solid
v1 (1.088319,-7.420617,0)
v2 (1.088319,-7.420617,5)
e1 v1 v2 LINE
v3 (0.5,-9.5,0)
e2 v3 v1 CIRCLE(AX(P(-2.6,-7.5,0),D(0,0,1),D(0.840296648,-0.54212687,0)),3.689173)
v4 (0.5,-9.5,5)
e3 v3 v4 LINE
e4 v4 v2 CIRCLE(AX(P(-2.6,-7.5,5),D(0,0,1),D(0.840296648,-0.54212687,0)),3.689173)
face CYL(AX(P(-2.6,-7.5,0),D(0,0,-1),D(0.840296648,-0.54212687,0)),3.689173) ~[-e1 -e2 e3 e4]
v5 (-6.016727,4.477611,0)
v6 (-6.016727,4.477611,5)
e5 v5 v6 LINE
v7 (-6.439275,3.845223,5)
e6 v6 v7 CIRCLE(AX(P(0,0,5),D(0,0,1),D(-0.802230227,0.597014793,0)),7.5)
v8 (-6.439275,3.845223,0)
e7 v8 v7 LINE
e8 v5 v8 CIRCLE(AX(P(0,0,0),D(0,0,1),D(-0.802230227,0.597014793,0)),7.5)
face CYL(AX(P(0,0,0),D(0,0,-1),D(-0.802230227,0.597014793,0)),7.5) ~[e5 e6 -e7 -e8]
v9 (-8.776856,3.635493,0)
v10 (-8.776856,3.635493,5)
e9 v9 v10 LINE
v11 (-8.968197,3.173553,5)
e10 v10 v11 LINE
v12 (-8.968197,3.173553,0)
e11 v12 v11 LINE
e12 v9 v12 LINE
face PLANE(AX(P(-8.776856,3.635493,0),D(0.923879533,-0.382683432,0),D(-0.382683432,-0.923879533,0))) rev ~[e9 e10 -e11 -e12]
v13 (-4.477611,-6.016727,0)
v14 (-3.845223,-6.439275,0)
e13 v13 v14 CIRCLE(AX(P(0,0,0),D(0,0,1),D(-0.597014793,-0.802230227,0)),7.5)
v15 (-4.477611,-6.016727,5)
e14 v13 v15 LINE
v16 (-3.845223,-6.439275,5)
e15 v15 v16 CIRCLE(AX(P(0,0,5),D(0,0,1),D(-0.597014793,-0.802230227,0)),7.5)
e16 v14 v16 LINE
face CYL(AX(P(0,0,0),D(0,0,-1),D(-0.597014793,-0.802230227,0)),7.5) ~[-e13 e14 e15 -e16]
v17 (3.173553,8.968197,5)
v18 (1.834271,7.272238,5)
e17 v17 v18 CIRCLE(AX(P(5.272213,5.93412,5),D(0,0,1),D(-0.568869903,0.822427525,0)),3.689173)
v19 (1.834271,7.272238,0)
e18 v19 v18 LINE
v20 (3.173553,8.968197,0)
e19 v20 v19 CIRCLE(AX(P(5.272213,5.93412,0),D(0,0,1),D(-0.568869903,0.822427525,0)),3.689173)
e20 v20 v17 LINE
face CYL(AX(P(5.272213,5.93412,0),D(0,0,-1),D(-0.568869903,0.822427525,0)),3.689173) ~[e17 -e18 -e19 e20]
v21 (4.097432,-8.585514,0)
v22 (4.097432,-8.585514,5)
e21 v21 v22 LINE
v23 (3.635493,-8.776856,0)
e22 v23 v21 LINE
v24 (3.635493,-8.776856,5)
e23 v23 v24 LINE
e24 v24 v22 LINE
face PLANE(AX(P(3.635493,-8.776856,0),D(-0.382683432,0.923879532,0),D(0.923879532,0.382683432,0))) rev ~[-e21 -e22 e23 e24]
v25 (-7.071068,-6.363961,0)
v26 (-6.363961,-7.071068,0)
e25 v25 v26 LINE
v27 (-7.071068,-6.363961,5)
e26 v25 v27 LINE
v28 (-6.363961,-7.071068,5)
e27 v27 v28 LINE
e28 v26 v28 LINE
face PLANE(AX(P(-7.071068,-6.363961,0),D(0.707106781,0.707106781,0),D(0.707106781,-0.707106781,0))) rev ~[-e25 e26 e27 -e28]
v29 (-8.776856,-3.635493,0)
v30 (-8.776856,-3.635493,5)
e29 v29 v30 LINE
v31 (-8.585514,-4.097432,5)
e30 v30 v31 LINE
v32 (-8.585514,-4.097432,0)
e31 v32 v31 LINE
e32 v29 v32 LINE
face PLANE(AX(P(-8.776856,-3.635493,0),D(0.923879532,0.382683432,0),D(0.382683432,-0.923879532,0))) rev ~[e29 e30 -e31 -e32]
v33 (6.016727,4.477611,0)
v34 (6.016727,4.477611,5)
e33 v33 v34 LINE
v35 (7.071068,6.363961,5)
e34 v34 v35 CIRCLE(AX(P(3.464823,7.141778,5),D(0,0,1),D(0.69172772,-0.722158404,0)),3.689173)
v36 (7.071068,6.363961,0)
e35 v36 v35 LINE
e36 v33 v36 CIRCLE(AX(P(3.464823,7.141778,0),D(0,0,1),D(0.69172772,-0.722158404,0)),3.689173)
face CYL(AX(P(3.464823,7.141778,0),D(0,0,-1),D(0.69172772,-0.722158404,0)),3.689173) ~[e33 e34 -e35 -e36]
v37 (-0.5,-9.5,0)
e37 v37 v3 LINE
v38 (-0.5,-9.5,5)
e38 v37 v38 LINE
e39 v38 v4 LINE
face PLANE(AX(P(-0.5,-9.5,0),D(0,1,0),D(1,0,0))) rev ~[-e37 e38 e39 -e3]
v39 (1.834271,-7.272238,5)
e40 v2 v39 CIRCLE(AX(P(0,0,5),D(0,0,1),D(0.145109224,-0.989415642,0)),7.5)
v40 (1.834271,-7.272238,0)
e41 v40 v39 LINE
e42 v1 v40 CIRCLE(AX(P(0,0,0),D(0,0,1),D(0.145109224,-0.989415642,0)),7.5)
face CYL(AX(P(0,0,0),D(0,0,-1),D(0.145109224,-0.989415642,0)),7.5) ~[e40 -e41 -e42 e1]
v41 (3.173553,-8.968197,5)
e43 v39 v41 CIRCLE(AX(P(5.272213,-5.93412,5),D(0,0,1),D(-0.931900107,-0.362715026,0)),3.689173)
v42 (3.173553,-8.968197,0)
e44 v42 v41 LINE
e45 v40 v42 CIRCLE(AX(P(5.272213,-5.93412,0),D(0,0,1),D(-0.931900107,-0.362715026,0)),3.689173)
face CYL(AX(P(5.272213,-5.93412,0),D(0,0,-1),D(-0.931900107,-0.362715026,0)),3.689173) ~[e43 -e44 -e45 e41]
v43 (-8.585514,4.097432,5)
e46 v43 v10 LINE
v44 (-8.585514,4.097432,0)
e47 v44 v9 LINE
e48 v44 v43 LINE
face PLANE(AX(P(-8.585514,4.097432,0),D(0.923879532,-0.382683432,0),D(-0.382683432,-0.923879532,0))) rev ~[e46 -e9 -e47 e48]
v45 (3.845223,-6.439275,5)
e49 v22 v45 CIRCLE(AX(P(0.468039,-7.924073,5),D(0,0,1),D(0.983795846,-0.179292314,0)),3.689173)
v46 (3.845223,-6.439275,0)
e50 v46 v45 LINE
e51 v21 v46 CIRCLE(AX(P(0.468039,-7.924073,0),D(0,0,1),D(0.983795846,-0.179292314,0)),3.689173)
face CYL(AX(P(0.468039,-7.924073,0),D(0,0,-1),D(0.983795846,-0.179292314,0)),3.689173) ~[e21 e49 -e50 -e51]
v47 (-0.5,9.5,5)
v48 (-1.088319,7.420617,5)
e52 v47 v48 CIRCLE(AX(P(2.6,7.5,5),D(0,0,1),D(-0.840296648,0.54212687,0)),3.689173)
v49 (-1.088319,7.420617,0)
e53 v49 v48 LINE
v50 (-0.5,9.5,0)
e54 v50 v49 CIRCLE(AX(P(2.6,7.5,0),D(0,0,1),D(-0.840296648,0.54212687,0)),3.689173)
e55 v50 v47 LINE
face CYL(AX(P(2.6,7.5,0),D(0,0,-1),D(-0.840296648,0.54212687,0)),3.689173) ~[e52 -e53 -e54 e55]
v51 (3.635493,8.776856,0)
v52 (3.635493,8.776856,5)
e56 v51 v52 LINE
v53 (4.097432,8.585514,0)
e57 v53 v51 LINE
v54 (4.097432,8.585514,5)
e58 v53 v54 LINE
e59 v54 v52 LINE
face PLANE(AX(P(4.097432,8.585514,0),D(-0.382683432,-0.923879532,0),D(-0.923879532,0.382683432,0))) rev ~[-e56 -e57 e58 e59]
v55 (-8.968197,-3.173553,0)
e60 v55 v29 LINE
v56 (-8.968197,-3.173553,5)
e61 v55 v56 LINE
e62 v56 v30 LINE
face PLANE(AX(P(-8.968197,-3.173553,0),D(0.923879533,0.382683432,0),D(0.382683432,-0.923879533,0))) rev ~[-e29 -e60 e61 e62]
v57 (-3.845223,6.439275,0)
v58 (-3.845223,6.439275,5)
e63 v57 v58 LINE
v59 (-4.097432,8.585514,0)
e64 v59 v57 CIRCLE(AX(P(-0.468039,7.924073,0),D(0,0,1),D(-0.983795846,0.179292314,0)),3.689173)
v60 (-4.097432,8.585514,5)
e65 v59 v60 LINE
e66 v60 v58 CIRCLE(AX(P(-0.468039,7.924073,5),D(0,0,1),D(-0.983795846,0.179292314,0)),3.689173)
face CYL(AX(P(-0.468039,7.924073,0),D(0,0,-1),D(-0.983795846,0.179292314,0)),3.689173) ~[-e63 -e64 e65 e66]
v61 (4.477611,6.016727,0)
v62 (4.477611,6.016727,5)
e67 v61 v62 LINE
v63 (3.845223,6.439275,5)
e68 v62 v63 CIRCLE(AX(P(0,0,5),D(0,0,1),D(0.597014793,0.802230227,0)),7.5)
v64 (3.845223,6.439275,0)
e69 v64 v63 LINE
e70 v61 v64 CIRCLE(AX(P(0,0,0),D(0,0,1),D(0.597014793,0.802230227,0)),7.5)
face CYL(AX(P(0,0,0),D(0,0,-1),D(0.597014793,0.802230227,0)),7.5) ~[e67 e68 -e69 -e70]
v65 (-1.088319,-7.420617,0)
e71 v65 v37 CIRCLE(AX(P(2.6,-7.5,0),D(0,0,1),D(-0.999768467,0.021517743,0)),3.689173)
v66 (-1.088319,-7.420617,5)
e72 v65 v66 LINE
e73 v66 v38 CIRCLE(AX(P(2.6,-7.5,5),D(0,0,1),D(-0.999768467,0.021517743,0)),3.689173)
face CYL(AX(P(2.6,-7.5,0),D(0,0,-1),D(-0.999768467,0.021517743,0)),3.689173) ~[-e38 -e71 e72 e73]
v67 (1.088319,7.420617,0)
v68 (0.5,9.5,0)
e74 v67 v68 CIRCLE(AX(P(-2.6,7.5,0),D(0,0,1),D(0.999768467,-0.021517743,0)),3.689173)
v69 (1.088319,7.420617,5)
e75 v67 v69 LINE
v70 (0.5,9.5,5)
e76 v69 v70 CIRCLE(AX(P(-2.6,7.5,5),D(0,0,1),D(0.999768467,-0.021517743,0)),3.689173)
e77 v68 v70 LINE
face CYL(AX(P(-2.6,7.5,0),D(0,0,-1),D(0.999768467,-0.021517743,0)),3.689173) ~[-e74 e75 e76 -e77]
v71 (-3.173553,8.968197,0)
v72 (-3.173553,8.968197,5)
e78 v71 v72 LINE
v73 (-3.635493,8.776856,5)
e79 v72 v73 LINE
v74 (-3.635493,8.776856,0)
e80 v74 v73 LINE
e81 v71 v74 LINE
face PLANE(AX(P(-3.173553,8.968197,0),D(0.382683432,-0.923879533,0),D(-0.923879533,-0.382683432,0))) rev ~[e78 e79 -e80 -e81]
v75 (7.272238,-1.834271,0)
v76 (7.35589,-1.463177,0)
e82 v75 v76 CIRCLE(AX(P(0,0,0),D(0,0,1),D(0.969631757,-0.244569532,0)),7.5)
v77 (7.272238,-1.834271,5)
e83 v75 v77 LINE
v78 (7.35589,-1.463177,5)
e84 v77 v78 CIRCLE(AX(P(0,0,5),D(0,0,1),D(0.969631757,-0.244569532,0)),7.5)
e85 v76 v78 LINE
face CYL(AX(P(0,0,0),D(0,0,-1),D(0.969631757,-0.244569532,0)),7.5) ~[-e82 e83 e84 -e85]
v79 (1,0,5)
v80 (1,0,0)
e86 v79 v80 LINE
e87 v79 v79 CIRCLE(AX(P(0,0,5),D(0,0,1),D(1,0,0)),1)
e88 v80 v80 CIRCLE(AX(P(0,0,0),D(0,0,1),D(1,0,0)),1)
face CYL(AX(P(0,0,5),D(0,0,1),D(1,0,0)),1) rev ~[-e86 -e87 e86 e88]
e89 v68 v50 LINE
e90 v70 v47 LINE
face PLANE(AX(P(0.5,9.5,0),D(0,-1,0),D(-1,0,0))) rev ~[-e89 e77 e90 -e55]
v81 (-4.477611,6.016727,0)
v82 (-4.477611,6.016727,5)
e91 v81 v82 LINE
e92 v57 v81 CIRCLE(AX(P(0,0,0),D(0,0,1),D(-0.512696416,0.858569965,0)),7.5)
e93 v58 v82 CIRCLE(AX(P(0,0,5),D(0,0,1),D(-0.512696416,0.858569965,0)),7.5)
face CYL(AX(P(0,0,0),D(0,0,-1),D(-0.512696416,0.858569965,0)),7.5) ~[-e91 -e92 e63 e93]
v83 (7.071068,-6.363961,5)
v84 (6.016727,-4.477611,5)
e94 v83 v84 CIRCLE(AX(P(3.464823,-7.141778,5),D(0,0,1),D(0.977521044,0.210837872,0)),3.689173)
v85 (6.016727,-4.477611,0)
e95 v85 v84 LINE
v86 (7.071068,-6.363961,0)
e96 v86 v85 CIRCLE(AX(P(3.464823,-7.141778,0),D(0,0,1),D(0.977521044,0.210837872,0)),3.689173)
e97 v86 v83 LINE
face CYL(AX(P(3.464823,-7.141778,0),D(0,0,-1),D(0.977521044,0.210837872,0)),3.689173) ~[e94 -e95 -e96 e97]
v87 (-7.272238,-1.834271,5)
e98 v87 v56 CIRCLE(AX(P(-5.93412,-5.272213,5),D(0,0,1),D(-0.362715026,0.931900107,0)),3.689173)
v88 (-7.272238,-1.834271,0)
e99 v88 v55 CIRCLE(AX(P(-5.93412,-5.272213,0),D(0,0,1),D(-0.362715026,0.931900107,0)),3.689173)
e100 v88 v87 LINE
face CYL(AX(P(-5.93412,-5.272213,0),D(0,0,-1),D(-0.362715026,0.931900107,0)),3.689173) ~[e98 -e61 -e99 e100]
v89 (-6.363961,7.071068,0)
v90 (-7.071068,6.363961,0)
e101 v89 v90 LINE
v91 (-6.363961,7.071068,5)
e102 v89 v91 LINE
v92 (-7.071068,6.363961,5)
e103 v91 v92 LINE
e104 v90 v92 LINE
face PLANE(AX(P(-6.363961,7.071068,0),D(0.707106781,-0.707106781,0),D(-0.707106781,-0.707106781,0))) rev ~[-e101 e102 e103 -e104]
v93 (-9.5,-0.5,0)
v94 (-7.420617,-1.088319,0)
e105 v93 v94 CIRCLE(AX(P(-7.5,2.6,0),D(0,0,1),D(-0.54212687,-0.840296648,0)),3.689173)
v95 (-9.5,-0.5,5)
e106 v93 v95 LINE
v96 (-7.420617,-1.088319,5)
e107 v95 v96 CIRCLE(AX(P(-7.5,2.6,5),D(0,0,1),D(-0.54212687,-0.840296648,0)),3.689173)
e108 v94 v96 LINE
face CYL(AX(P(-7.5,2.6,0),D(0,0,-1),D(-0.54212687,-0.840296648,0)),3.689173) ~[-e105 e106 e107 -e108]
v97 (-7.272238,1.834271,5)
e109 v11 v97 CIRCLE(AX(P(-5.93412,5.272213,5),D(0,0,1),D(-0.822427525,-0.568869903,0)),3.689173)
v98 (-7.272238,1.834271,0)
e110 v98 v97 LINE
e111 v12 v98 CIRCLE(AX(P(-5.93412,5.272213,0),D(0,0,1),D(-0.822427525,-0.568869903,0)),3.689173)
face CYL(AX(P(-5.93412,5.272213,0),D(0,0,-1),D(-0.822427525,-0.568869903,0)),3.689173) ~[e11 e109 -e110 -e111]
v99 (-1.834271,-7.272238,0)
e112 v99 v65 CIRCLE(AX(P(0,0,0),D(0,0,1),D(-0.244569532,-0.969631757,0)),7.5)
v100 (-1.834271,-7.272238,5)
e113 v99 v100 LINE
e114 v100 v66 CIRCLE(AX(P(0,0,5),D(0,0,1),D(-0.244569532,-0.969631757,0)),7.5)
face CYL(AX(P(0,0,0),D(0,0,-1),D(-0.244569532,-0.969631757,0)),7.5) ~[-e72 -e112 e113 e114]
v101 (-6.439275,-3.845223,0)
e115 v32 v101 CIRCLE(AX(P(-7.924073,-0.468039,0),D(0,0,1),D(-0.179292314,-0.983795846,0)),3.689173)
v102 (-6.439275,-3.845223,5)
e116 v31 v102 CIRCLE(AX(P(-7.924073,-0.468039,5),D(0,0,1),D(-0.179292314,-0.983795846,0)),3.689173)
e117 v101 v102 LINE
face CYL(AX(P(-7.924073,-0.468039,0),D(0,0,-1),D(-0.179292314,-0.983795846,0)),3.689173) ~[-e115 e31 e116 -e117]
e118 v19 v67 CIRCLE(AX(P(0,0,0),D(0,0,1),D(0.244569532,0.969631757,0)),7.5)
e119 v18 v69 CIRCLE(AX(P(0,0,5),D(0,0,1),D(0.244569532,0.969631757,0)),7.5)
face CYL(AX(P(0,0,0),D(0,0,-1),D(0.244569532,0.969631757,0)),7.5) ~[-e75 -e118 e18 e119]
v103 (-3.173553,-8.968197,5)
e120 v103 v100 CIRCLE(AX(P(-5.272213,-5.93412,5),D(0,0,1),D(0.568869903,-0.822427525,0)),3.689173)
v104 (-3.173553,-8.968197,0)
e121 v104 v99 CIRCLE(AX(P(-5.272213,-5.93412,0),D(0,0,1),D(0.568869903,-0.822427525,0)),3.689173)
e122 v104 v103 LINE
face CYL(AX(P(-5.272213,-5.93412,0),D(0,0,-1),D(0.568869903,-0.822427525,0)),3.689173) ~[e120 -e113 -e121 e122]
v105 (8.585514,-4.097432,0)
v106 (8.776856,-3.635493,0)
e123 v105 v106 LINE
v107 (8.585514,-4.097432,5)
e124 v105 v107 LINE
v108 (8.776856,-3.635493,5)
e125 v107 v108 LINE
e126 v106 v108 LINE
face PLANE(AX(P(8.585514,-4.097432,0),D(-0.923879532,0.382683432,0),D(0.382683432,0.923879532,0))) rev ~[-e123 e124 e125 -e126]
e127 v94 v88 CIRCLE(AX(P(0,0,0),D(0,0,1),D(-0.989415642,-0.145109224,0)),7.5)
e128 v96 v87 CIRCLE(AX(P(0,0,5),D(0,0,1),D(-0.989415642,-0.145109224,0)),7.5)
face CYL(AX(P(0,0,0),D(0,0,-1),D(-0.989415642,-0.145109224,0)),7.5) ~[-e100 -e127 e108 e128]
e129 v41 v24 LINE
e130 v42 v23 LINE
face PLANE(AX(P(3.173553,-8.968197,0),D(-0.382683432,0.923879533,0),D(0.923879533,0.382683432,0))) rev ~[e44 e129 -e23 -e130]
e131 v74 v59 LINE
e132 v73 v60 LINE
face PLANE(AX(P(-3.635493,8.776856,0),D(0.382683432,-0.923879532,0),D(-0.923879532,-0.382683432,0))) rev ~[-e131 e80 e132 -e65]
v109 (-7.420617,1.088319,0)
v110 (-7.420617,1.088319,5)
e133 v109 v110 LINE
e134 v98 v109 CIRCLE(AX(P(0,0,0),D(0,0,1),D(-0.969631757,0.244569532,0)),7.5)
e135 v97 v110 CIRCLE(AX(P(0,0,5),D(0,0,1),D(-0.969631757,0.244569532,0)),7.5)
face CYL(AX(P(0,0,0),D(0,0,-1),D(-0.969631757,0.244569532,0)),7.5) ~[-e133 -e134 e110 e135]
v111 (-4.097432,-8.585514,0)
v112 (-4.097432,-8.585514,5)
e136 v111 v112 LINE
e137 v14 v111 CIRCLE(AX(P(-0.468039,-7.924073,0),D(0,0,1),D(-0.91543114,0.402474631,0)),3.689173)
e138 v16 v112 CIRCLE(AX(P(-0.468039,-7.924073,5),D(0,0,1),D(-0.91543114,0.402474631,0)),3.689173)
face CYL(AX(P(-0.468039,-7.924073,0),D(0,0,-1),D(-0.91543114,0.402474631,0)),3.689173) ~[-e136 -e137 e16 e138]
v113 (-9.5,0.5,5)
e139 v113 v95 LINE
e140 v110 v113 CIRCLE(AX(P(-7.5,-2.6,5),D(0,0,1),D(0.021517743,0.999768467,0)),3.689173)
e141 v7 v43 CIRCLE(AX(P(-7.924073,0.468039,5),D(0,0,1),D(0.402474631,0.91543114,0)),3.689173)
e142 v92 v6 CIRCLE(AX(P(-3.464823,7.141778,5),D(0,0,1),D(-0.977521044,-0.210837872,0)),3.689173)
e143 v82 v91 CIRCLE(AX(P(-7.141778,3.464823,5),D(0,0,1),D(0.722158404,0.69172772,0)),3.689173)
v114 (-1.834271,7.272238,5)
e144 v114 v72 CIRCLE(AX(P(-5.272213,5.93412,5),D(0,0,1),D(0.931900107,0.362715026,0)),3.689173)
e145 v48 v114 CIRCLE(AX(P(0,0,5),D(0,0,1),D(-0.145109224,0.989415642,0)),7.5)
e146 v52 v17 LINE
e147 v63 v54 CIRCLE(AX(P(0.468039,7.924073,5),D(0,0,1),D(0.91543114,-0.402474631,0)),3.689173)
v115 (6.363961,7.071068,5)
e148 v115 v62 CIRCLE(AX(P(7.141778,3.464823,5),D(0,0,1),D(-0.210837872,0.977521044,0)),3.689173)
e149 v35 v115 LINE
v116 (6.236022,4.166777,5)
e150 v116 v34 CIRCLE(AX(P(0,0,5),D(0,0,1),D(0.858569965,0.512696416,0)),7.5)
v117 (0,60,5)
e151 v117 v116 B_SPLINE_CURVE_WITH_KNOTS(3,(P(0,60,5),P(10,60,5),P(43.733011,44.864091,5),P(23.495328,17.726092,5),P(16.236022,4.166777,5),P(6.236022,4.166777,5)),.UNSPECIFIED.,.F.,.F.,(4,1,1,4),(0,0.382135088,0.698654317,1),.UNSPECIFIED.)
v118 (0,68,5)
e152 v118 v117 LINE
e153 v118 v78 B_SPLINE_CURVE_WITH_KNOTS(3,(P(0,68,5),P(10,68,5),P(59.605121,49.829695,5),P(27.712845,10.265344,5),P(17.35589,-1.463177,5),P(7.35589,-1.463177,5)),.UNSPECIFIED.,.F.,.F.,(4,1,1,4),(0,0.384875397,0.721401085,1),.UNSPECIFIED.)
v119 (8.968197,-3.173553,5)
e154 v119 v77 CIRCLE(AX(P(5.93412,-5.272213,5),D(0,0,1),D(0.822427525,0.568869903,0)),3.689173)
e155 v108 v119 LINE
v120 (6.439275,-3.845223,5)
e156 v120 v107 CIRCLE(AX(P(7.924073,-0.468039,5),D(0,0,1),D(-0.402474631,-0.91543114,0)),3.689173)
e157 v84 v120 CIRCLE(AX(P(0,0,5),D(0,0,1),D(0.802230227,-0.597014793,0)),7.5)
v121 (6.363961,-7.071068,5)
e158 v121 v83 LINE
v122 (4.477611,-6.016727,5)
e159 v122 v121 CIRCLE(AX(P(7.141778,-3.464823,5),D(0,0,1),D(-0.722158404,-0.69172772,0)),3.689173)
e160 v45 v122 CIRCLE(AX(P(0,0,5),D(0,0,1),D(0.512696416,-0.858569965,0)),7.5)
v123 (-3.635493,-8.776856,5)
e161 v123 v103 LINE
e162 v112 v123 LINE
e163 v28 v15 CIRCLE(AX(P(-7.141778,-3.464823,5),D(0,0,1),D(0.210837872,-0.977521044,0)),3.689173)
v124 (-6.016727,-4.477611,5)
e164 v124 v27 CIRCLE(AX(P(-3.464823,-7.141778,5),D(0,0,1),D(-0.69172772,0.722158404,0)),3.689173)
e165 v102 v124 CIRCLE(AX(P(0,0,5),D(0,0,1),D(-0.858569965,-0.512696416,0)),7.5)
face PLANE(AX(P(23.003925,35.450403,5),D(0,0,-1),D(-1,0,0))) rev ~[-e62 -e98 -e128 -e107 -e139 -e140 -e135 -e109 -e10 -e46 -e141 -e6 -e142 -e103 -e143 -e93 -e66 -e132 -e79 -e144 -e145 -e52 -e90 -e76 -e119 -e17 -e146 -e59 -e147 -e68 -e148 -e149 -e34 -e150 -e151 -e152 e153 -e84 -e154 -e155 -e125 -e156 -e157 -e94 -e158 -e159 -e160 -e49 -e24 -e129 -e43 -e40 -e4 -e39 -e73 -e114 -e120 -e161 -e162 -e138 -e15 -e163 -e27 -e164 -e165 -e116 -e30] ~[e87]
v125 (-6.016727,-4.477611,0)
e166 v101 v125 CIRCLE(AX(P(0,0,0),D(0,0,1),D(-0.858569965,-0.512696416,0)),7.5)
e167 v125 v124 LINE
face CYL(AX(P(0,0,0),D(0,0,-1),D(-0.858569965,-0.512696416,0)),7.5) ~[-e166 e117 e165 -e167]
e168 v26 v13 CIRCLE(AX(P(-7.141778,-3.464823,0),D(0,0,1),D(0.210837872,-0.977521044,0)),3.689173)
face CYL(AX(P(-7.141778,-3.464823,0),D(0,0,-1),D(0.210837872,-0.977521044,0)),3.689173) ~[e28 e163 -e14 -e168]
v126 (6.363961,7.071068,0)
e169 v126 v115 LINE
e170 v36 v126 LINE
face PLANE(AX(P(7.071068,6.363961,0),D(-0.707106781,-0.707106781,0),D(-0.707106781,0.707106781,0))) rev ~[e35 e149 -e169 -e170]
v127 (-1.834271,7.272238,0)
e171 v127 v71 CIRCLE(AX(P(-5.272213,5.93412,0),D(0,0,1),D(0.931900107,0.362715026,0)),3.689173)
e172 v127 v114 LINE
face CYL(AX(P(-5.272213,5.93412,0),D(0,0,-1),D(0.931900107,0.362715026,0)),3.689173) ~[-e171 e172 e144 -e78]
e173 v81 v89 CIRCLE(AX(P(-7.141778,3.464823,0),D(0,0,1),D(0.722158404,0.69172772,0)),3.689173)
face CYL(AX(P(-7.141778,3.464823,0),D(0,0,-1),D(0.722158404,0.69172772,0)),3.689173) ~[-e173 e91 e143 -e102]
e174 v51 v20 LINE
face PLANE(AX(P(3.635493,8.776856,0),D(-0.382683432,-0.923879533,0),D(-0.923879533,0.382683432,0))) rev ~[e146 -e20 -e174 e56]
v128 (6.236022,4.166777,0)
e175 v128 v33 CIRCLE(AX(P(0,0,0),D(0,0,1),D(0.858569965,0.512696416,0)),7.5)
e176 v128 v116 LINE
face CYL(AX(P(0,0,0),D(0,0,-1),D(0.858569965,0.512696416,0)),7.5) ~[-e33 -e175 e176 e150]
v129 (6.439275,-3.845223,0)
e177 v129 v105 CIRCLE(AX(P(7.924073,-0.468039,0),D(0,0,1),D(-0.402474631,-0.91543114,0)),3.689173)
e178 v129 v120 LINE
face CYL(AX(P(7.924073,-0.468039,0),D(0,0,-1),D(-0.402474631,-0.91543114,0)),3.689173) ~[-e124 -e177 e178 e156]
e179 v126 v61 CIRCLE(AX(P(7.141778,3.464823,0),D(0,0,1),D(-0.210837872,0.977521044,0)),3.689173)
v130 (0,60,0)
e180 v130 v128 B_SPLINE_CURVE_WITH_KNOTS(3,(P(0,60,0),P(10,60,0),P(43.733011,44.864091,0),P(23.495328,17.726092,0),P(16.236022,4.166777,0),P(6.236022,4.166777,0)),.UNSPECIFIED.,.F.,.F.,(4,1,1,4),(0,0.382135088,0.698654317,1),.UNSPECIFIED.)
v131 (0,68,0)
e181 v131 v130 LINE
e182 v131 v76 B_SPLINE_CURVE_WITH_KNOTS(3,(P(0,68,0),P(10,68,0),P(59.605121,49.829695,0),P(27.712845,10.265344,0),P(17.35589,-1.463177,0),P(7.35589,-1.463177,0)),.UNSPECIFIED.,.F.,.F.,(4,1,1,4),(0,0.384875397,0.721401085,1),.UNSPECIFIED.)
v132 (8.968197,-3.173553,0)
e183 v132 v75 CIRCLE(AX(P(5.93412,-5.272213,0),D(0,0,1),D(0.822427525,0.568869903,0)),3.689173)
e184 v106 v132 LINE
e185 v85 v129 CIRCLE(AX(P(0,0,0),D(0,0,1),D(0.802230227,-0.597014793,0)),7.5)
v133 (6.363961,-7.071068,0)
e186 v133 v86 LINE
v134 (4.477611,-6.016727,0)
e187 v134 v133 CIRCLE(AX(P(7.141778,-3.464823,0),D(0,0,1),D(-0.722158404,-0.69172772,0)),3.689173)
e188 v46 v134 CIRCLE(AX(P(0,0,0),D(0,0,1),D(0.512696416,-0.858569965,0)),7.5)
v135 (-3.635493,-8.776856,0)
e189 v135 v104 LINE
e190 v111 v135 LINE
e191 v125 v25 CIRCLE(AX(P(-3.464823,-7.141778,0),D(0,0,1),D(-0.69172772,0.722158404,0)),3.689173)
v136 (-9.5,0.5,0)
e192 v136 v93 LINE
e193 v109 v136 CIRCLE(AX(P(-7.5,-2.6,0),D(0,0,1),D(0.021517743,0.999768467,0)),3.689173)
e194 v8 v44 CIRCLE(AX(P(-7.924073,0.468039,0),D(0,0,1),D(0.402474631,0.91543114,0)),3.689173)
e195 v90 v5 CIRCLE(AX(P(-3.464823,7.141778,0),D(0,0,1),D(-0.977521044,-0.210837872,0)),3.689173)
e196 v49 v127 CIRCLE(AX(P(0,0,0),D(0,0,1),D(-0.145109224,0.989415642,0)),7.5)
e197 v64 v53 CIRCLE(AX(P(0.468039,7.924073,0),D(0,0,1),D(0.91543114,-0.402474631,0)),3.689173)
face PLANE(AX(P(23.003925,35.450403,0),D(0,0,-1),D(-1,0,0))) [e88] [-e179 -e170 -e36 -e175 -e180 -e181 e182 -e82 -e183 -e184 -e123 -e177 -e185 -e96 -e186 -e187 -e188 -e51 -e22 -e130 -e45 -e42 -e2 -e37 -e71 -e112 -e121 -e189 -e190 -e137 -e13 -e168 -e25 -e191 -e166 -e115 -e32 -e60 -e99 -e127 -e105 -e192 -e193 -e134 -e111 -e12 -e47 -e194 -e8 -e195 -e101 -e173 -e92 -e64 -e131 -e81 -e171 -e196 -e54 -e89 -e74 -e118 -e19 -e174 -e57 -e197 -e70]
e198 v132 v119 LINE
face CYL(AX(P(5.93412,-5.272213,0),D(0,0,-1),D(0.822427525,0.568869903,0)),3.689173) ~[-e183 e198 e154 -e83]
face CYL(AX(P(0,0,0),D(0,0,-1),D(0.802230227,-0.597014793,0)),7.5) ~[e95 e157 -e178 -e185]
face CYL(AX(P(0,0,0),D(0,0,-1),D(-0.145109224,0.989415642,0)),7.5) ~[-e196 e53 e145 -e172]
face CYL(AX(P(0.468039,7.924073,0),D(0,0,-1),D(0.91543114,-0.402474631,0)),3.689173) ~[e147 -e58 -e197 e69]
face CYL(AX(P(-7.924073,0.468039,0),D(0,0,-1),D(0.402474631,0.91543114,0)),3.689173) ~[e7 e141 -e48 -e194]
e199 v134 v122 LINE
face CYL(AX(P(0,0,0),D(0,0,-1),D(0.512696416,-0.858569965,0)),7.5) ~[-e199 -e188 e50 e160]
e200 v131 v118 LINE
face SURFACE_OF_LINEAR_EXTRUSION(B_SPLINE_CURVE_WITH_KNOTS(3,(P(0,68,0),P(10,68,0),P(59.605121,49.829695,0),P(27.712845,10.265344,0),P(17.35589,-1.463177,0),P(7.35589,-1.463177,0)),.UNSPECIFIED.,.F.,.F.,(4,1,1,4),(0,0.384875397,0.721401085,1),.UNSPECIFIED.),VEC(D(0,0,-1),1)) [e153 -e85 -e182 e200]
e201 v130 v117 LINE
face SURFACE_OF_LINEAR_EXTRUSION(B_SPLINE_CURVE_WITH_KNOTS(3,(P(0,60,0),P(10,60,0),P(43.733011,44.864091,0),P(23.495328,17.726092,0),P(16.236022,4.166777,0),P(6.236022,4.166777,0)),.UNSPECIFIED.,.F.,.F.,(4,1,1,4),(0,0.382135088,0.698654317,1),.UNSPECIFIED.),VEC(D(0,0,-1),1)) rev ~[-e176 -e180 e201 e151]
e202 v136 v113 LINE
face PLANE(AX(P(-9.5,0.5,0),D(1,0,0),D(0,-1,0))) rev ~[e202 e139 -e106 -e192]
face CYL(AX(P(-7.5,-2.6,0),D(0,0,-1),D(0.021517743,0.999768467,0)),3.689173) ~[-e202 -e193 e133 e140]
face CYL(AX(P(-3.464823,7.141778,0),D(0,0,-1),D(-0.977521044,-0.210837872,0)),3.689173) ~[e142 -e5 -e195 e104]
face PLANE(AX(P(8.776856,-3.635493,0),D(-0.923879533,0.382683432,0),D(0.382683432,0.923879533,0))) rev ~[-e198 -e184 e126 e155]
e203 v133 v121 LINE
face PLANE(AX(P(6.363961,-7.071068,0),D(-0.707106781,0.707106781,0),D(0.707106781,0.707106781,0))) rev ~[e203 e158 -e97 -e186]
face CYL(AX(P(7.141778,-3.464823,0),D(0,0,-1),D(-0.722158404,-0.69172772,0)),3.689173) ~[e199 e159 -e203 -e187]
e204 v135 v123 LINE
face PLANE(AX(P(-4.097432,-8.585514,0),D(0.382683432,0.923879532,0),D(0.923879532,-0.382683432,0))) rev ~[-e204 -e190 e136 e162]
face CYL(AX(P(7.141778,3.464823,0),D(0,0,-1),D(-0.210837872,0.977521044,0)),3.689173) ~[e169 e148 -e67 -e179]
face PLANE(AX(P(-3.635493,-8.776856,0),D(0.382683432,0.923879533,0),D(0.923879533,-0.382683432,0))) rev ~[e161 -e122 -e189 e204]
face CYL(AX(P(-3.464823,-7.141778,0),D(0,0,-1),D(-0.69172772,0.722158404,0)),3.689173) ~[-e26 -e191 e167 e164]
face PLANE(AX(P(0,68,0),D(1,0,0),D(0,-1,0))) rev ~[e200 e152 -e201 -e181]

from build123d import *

# Parameters (mm, degrees)
F1_DEPTH = 5
F2_R     = 1
F3_DEPTH = 5.001
F5_DEPTH = 5


with BuildPart() as f1:
    # F0 (on Top) → F1 (new body)
    with BuildSketch(Plane.XY):
        with BuildLine():
            ThreePointArc((7.4206173165, -1.0883191822), (7.4801280027, -0.5456052265), (7.5, 0))
            ThreePointArc((7.5, 0), (7.4801280027, 0.5456052265), (7.4206173165, 1.0883191822))
            ThreePointArc((7.4206173165, 1.0883191822), (7.355889603, 1.4631774151), (7.2722381774, 1.8342714877))
            ThreePointArc((7.2722381774, 1.8342714877), (6.9290964938, 2.8701257427), (6.4392747372, 3.8452231222))
            ThreePointArc((6.4392747372, 3.8452231222), (6.2360220923, 4.1667767476), (6.0167266989, 4.4776109513))
            ThreePointArc((6.0167266989, 4.4776109513), (5.3033008589, 5.3033008589), (4.4776109513, 6.0167266989))
            ThreePointArc((4.4776109513, 6.0167266989), (4.1667767476, 6.2360220923), (3.8452231222, 6.4392747372))
            ThreePointArc((3.8452231222, 6.4392747372), (2.8701257427, 6.9290964938), (1.8342714877, 7.2722381774))
            ThreePointArc((1.8342714877, 7.2722381774), (1.4631774151, 7.355889603), (1.0883191822, 7.4206173165))
            ThreePointArc((1.0883191822, 7.4206173165), (0, 7.5), (-1.0883191822, 7.4206173165))
            ThreePointArc((-1.0883191822, 7.4206173165), (-1.4631774151, 7.355889603), (-1.8342714877, 7.2722381774))
            ThreePointArc((-1.8342714877, 7.2722381774), (-2.8701257427, 6.9290964938), (-3.8452231222, 6.4392747372))
            ThreePointArc((-3.8452231222, 6.4392747372), (-4.1667767476, 6.2360220923), (-4.4776109513, 6.0167266989))
            ThreePointArc((-4.4776109513, 6.0167266989), (-5.3033008589, 5.3033008589), (-6.0167266989, 4.4776109513))
            ThreePointArc((-6.0167266989, 4.4776109513), (-6.2360220923, 4.1667767476), (-6.4392747372, 3.8452231222))
            ThreePointArc((-6.4392747372, 3.8452231222), (-6.9290964938, 2.8701257427), (-7.2722381774, 1.8342714877))
            ThreePointArc((-7.2722381774, 1.8342714877), (-7.355889603, 1.4631774151), (-7.4206173165, 1.0883191822))
            ThreePointArc((-7.4206173165, 1.0883191822), (-7.5, 0), (-7.4206173165, -1.0883191822))
            ThreePointArc((-7.4206173165, -1.0883191822), (-7.355889603, -1.4631774151), (-7.2722381774, -1.8342714877))
            ThreePointArc((-7.2722381774, -1.8342714877), (-6.9290964938, -2.8701257427), (-6.4392747372, -3.8452231222))
            ThreePointArc((-6.4392747372, -3.8452231222), (-6.2360220923, -4.1667767476), (-6.0167266989, -4.4776109513))
            ThreePointArc((-6.0167266989, -4.4776109513), (-5.3033008589, -5.3033008589), (-4.4776109513, -6.0167266989))
            ThreePointArc((-4.4776109513, -6.0167266989), (-4.1667767476, -6.2360220923), (-3.8452231222, -6.4392747372))
            ThreePointArc((-3.8452231222, -6.4392747372), (-2.8701257427, -6.9290964938), (-1.8342714877, -7.2722381774))
            ThreePointArc((-1.8342714877, -7.2722381774), (-1.4631774151, -7.355889603), (-1.0883191822, -7.4206173165))
            ThreePointArc((-1.0883191822, -7.4206173165), (0, -7.5), (1.0883191822, -7.4206173165))
            ThreePointArc((1.0883191822, -7.4206173165), (1.4631774151, -7.355889603), (1.8342714877, -7.2722381774))
            ThreePointArc((1.8342714877, -7.2722381774), (2.8701257427, -6.9290964938), (3.8452231222, -6.4392747372))
            ThreePointArc((3.8452231222, -6.4392747372), (4.1667767476, -6.2360220923), (4.4776109513, -6.0167266989))
            ThreePointArc((4.4776109513, -6.0167266989), (5.3033008589, -5.3033008589), (6.0167266989, -4.4776109513))
            ThreePointArc((6.0167266989, -4.4776109513), (6.2360220923, -4.1667767476), (6.4392747372, -3.8452231222))
            ThreePointArc((6.4392747372, -3.8452231222), (6.9290964938, -2.8701257427), (7.2722381774, -1.8342714877))
            ThreePointArc((7.2722381774, -1.8342714877), (7.355889603, -1.4631774151), (7.4206173165, -1.0883191822))
        make_face()
        with BuildLine():
            ThreePointArc((7.4206173165, 1.0883191822), (7.4801280027, 0.5456052265), (7.5, 0))
            ThreePointArc((7.5, 0), (7.4801280027, -0.5456052265), (7.4206173165, -1.0883191822))
            ThreePointArc((7.4206173165, -1.0883191822), (8.5043518229, -0.9498278009), (9.5, -0.5))
            Line((9.5, -0.5), (9.5, 0))
            Line((9.5, 0), (9.5, 0.5))
            ThreePointArc((9.5, 0.5), (8.5043518229, 0.9498278009), (7.4206173165, 1.0883191822))
        make_face()
        with BuildLine():
            ThreePointArc((6.4392747372, 3.8452231222), (6.9290964938, 2.8701257427), (7.2722381774, 1.8342714877))
            ThreePointArc((7.2722381774, 1.8342714877), (8.2204799494, 2.376948081), (8.968197275, 3.1735528412))
            Line((8.968197275, 3.1735528412), (8.7768555589, 3.6354926075))
            Line((8.7768555589, 3.6354926075), (8.5855138427, 4.0974323737))
            ThreePointArc((8.5855138427, 4.0974323737), (7.4935132234, 4.1320010103), (6.4392747372, 3.8452231222))
        make_face()
        with BuildLine():
            ThreePointArc((8.968197275, -3.1735528412), (8.2204799494, -2.376948081), (7.2722381774, -1.8342714877))
            ThreePointArc((7.2722381774, -1.8342714877), (6.9290964938, -2.8701257427), (6.4392747372, -3.8452231222))
            ThreePointArc((6.4392747372, -3.8452231222), (7.4935132234, -4.1320010103), (8.5855138427, -4.0974323737))
            Line((8.5855138427, -4.0974323737), (8.7768555589, -3.6354926075))
            Line((8.7768555589, -3.6354926075), (8.968197275, -3.1735528412))
        make_face()
        with BuildLine():
            ThreePointArc((4.4776109513, 6.0167266989), (5.3033008589, 5.3033008589), (6.0167266989, 4.4776109513))
            ThreePointArc((6.0167266989, 4.4776109513), (6.6851145225, 5.3418551646), (7.0710678119, 6.3639610307))
            Line((7.0710678119, 6.3639610307), (6.7175144213, 6.7175144213))
            Line((6.7175144213, 6.7175144213), (6.3639610307, 7.0710678119))
            ThreePointArc((6.3639610307, 7.0710678119), (5.3418551646, 6.6851145225), (4.4776109513, 6.0167266989))
        make_face()
        with BuildLine():
            ThreePointArc((7.0710678119, -6.3639610307), (6.6851145225, -5.3418551646), (6.0167266989, -4.4776109513))
            ThreePointArc((6.0167266989, -4.4776109513), (5.3033008589, -5.3033008589), (4.4776109513, -6.0167266989))
            ThreePointArc((4.4776109513, -6.0167266989), (5.3418551646, -6.6851145225), (6.3639610307, -7.0710678119))
            Line((6.3639610307, -7.0710678119), (6.7175144213, -6.7175144213))
            Line((6.7175144213, -6.7175144213), (7.0710678119, -6.3639610307))
        make_face()
        with BuildLine():
            ThreePointArc((1.8342714877, 7.2722381774), (2.8701257427, 6.9290964938), (3.8452231222, 6.4392747372))
            ThreePointArc((3.8452231222, 6.4392747372), (4.1320010103, 7.4935132234), (4.0974323737, 8.5855138427))
            Line((4.0974323737, 8.5855138427), (3.6354926075, 8.7768555589))
            Line((3.6354926075, 8.7768555589), (3.1735528412, 8.968197275))
            ThreePointArc((3.1735528412, 8.968197275), (2.376948081, 8.2204799494), (1.8342714877, 7.2722381774))
        make_face()
        with BuildLine():
            ThreePointArc((4.0974323737, -8.5855138427), (4.1320010103, -7.4935132234), (3.8452231222, -6.4392747372))
            ThreePointArc((3.8452231222, -6.4392747372), (2.8701257427, -6.9290964938), (1.8342714877, -7.2722381774))
            ThreePointArc((1.8342714877, -7.2722381774), (2.376948081, -8.2204799494), (3.1735528412, -8.968197275))
            Line((3.1735528412, -8.968197275), (3.6354926075, -8.7768555589))
            Line((3.6354926075, -8.7768555589), (4.0974323737, -8.5855138427))
        make_face()
        with BuildLine():
            ThreePointArc((-1.0883191822, 7.4206173165), (0, 7.5), (1.0883191822, 7.4206173165))
            ThreePointArc((1.0883191822, 7.4206173165), (0.9498278009, 8.5043518229), (0.5, 9.5))
            Line((0.5, 9.5), (0, 9.5))
            Line((0, 9.5), (-0.5, 9.5))
            ThreePointArc((-0.5, 9.5), (-0.9498278009, 8.5043518229), (-1.0883191822, 7.4206173165))
        make_face()
        with BuildLine():
            ThreePointArc((0.5, -9.5), (0.9498278009, -8.5043518229), (1.0883191822, -7.4206173165))
            ThreePointArc((1.0883191822, -7.4206173165), (0, -7.5), (-1.0883191822, -7.4206173165))
            ThreePointArc((-1.0883191822, -7.4206173165), (-0.9498278009, -8.5043518229), (-0.5, -9.5))
            Line((-0.5, -9.5), (0, -9.5))
            Line((0, -9.5), (0.5, -9.5))
        make_face()
        with BuildLine():
            ThreePointArc((-3.8452231222, 6.4392747372), (-2.8701257427, 6.9290964938), (-1.8342714877, 7.2722381774))
            ThreePointArc((-1.8342714877, 7.2722381774), (-2.376948081, 8.2204799494), (-3.1735528412, 8.968197275))
            Line((-3.1735528412, 8.968197275), (-3.6354926075, 8.7768555589))
            Line((-3.6354926075, 8.7768555589), (-4.0974323737, 8.5855138427))
            ThreePointArc((-4.0974323737, 8.5855138427), (-4.1320010103, 7.4935132234), (-3.8452231222, 6.4392747372))
        make_face()
        with BuildLine():
            ThreePointArc((-3.1735528412, -8.968197275), (-2.376948081, -8.2204799494), (-1.8342714877, -7.2722381774))
            ThreePointArc((-1.8342714877, -7.2722381774), (-2.8701257427, -6.9290964938), (-3.8452231222, -6.4392747372))
            ThreePointArc((-3.8452231222, -6.4392747372), (-4.1320010103, -7.4935132234), (-4.0974323737, -8.5855138427))
            Line((-4.0974323737, -8.5855138427), (-3.6354926075, -8.7768555589))
            Line((-3.6354926075, -8.7768555589), (-3.1735528412, -8.968197275))
        make_face()
        with BuildLine():
            ThreePointArc((-6.0167266989, 4.4776109513), (-5.3033008589, 5.3033008589), (-4.4776109513, 6.0167266989))
            ThreePointArc((-4.4776109513, 6.0167266989), (-5.3418551646, 6.6851145225), (-6.3639610307, 7.0710678119))
            Line((-6.3639610307, 7.0710678119), (-6.7175144213, 6.7175144213))
            Line((-6.7175144213, 6.7175144213), (-7.0710678119, 6.3639610307))
            ThreePointArc((-7.0710678119, 6.3639610307), (-6.6851145225, 5.3418551646), (-6.0167266989, 4.4776109513))
        make_face()
        with BuildLine():
            ThreePointArc((-6.3639610307, -7.0710678119), (-5.3418551646, -6.6851145225), (-4.4776109513, -6.0167266989))
            ThreePointArc((-4.4776109513, -6.0167266989), (-5.3033008589, -5.3033008589), (-6.0167266989, -4.4776109513))
            ThreePointArc((-6.0167266989, -4.4776109513), (-6.6851145225, -5.3418551646), (-7.0710678119, -6.3639610307))
            Line((-7.0710678119, -6.3639610307), (-6.7175144213, -6.7175144213))
            Line((-6.7175144213, -6.7175144213), (-6.3639610307, -7.0710678119))
        make_face()
        with BuildLine():
            ThreePointArc((-7.2722381774, 1.8342714877), (-6.9290964938, 2.8701257427), (-6.4392747372, 3.8452231222))
            ThreePointArc((-6.4392747372, 3.8452231222), (-7.4935132234, 4.1320010103), (-8.5855138427, 4.0974323737))
            Line((-8.5855138427, 4.0974323737), (-8.7768555589, 3.6354926075))
            Line((-8.7768555589, 3.6354926075), (-8.968197275, 3.1735528412))
            ThreePointArc((-8.968197275, 3.1735528412), (-8.2204799494, 2.376948081), (-7.2722381774, 1.8342714877))
        make_face()
        with BuildLine():
            ThreePointArc((-8.5855138427, -4.0974323737), (-7.4935132234, -4.1320010103), (-6.4392747372, -3.8452231222))
            ThreePointArc((-6.4392747372, -3.8452231222), (-6.9290964938, -2.8701257427), (-7.2722381774, -1.8342714877))
            ThreePointArc((-7.2722381774, -1.8342714877), (-8.2204799494, -2.376948081), (-8.968197275, -3.1735528412))
            Line((-8.968197275, -3.1735528412), (-8.7768555589, -3.6354926075))
            Line((-8.7768555589, -3.6354926075), (-8.5855138427, -4.0974323737))
        make_face()
        with BuildLine():
            ThreePointArc((-7.4206173165, -1.0883191822), (-7.5, 0), (-7.4206173165, 1.0883191822))
            ThreePointArc((-7.4206173165, 1.0883191822), (-8.5043518229, 0.9498278009), (-9.5, 0.5))
            Line((-9.5, 0.5), (-9.5, 0))
            Line((-9.5, 0), (-9.5, -0.5))
            ThreePointArc((-9.5, -0.5), (-8.5043518229, -0.9498278009), (-7.4206173165, -1.0883191822))
        make_face()
    extrude(amount=F1_DEPTH)

    # F2 (on face) → F3 (cut, through all)
    with BuildSketch(Plane.XY.offset(5)):
        Circle(F2_R)
    extrude(amount=-F3_DEPTH, mode=Mode.SUBTRACT)

    # F4 (on Top) → F5 (join, through all)
    with BuildSketch(Plane.XY):
        with BuildLine():
            add(Edge.make_bspline(
                [(0, 68), (10, 68), (59.6051205552, 49.8296945221), (27.7128449588, 10.2653439141), (17.355889603, -1.4631774151), (7.355889603, -1.4631774151)],
                knots=[0, 0, 0, 0, 0.3848753966, 0.721401085, 1, 1, 1, 1], degree=3))
            Line((0, 68), (0, 60))
            add(Edge.make_bspline(
                [(0, 60), (10, 60), (43.7330109068, 44.8640909955), (23.495328063, 17.7260923975), (16.2360220923, 4.1667767476), (6.2360220923, 4.1667767476)],
                knots=[0, 0, 0, 0, 0.3821350883, 0.6986543171, 1, 1, 1, 1], degree=3))
            Line((6.2360220923, 4.1667767476), (7.355889603, -1.4631774151))
        make_face()
    extrude(amount=F5_DEPTH)


solid = f1.part
